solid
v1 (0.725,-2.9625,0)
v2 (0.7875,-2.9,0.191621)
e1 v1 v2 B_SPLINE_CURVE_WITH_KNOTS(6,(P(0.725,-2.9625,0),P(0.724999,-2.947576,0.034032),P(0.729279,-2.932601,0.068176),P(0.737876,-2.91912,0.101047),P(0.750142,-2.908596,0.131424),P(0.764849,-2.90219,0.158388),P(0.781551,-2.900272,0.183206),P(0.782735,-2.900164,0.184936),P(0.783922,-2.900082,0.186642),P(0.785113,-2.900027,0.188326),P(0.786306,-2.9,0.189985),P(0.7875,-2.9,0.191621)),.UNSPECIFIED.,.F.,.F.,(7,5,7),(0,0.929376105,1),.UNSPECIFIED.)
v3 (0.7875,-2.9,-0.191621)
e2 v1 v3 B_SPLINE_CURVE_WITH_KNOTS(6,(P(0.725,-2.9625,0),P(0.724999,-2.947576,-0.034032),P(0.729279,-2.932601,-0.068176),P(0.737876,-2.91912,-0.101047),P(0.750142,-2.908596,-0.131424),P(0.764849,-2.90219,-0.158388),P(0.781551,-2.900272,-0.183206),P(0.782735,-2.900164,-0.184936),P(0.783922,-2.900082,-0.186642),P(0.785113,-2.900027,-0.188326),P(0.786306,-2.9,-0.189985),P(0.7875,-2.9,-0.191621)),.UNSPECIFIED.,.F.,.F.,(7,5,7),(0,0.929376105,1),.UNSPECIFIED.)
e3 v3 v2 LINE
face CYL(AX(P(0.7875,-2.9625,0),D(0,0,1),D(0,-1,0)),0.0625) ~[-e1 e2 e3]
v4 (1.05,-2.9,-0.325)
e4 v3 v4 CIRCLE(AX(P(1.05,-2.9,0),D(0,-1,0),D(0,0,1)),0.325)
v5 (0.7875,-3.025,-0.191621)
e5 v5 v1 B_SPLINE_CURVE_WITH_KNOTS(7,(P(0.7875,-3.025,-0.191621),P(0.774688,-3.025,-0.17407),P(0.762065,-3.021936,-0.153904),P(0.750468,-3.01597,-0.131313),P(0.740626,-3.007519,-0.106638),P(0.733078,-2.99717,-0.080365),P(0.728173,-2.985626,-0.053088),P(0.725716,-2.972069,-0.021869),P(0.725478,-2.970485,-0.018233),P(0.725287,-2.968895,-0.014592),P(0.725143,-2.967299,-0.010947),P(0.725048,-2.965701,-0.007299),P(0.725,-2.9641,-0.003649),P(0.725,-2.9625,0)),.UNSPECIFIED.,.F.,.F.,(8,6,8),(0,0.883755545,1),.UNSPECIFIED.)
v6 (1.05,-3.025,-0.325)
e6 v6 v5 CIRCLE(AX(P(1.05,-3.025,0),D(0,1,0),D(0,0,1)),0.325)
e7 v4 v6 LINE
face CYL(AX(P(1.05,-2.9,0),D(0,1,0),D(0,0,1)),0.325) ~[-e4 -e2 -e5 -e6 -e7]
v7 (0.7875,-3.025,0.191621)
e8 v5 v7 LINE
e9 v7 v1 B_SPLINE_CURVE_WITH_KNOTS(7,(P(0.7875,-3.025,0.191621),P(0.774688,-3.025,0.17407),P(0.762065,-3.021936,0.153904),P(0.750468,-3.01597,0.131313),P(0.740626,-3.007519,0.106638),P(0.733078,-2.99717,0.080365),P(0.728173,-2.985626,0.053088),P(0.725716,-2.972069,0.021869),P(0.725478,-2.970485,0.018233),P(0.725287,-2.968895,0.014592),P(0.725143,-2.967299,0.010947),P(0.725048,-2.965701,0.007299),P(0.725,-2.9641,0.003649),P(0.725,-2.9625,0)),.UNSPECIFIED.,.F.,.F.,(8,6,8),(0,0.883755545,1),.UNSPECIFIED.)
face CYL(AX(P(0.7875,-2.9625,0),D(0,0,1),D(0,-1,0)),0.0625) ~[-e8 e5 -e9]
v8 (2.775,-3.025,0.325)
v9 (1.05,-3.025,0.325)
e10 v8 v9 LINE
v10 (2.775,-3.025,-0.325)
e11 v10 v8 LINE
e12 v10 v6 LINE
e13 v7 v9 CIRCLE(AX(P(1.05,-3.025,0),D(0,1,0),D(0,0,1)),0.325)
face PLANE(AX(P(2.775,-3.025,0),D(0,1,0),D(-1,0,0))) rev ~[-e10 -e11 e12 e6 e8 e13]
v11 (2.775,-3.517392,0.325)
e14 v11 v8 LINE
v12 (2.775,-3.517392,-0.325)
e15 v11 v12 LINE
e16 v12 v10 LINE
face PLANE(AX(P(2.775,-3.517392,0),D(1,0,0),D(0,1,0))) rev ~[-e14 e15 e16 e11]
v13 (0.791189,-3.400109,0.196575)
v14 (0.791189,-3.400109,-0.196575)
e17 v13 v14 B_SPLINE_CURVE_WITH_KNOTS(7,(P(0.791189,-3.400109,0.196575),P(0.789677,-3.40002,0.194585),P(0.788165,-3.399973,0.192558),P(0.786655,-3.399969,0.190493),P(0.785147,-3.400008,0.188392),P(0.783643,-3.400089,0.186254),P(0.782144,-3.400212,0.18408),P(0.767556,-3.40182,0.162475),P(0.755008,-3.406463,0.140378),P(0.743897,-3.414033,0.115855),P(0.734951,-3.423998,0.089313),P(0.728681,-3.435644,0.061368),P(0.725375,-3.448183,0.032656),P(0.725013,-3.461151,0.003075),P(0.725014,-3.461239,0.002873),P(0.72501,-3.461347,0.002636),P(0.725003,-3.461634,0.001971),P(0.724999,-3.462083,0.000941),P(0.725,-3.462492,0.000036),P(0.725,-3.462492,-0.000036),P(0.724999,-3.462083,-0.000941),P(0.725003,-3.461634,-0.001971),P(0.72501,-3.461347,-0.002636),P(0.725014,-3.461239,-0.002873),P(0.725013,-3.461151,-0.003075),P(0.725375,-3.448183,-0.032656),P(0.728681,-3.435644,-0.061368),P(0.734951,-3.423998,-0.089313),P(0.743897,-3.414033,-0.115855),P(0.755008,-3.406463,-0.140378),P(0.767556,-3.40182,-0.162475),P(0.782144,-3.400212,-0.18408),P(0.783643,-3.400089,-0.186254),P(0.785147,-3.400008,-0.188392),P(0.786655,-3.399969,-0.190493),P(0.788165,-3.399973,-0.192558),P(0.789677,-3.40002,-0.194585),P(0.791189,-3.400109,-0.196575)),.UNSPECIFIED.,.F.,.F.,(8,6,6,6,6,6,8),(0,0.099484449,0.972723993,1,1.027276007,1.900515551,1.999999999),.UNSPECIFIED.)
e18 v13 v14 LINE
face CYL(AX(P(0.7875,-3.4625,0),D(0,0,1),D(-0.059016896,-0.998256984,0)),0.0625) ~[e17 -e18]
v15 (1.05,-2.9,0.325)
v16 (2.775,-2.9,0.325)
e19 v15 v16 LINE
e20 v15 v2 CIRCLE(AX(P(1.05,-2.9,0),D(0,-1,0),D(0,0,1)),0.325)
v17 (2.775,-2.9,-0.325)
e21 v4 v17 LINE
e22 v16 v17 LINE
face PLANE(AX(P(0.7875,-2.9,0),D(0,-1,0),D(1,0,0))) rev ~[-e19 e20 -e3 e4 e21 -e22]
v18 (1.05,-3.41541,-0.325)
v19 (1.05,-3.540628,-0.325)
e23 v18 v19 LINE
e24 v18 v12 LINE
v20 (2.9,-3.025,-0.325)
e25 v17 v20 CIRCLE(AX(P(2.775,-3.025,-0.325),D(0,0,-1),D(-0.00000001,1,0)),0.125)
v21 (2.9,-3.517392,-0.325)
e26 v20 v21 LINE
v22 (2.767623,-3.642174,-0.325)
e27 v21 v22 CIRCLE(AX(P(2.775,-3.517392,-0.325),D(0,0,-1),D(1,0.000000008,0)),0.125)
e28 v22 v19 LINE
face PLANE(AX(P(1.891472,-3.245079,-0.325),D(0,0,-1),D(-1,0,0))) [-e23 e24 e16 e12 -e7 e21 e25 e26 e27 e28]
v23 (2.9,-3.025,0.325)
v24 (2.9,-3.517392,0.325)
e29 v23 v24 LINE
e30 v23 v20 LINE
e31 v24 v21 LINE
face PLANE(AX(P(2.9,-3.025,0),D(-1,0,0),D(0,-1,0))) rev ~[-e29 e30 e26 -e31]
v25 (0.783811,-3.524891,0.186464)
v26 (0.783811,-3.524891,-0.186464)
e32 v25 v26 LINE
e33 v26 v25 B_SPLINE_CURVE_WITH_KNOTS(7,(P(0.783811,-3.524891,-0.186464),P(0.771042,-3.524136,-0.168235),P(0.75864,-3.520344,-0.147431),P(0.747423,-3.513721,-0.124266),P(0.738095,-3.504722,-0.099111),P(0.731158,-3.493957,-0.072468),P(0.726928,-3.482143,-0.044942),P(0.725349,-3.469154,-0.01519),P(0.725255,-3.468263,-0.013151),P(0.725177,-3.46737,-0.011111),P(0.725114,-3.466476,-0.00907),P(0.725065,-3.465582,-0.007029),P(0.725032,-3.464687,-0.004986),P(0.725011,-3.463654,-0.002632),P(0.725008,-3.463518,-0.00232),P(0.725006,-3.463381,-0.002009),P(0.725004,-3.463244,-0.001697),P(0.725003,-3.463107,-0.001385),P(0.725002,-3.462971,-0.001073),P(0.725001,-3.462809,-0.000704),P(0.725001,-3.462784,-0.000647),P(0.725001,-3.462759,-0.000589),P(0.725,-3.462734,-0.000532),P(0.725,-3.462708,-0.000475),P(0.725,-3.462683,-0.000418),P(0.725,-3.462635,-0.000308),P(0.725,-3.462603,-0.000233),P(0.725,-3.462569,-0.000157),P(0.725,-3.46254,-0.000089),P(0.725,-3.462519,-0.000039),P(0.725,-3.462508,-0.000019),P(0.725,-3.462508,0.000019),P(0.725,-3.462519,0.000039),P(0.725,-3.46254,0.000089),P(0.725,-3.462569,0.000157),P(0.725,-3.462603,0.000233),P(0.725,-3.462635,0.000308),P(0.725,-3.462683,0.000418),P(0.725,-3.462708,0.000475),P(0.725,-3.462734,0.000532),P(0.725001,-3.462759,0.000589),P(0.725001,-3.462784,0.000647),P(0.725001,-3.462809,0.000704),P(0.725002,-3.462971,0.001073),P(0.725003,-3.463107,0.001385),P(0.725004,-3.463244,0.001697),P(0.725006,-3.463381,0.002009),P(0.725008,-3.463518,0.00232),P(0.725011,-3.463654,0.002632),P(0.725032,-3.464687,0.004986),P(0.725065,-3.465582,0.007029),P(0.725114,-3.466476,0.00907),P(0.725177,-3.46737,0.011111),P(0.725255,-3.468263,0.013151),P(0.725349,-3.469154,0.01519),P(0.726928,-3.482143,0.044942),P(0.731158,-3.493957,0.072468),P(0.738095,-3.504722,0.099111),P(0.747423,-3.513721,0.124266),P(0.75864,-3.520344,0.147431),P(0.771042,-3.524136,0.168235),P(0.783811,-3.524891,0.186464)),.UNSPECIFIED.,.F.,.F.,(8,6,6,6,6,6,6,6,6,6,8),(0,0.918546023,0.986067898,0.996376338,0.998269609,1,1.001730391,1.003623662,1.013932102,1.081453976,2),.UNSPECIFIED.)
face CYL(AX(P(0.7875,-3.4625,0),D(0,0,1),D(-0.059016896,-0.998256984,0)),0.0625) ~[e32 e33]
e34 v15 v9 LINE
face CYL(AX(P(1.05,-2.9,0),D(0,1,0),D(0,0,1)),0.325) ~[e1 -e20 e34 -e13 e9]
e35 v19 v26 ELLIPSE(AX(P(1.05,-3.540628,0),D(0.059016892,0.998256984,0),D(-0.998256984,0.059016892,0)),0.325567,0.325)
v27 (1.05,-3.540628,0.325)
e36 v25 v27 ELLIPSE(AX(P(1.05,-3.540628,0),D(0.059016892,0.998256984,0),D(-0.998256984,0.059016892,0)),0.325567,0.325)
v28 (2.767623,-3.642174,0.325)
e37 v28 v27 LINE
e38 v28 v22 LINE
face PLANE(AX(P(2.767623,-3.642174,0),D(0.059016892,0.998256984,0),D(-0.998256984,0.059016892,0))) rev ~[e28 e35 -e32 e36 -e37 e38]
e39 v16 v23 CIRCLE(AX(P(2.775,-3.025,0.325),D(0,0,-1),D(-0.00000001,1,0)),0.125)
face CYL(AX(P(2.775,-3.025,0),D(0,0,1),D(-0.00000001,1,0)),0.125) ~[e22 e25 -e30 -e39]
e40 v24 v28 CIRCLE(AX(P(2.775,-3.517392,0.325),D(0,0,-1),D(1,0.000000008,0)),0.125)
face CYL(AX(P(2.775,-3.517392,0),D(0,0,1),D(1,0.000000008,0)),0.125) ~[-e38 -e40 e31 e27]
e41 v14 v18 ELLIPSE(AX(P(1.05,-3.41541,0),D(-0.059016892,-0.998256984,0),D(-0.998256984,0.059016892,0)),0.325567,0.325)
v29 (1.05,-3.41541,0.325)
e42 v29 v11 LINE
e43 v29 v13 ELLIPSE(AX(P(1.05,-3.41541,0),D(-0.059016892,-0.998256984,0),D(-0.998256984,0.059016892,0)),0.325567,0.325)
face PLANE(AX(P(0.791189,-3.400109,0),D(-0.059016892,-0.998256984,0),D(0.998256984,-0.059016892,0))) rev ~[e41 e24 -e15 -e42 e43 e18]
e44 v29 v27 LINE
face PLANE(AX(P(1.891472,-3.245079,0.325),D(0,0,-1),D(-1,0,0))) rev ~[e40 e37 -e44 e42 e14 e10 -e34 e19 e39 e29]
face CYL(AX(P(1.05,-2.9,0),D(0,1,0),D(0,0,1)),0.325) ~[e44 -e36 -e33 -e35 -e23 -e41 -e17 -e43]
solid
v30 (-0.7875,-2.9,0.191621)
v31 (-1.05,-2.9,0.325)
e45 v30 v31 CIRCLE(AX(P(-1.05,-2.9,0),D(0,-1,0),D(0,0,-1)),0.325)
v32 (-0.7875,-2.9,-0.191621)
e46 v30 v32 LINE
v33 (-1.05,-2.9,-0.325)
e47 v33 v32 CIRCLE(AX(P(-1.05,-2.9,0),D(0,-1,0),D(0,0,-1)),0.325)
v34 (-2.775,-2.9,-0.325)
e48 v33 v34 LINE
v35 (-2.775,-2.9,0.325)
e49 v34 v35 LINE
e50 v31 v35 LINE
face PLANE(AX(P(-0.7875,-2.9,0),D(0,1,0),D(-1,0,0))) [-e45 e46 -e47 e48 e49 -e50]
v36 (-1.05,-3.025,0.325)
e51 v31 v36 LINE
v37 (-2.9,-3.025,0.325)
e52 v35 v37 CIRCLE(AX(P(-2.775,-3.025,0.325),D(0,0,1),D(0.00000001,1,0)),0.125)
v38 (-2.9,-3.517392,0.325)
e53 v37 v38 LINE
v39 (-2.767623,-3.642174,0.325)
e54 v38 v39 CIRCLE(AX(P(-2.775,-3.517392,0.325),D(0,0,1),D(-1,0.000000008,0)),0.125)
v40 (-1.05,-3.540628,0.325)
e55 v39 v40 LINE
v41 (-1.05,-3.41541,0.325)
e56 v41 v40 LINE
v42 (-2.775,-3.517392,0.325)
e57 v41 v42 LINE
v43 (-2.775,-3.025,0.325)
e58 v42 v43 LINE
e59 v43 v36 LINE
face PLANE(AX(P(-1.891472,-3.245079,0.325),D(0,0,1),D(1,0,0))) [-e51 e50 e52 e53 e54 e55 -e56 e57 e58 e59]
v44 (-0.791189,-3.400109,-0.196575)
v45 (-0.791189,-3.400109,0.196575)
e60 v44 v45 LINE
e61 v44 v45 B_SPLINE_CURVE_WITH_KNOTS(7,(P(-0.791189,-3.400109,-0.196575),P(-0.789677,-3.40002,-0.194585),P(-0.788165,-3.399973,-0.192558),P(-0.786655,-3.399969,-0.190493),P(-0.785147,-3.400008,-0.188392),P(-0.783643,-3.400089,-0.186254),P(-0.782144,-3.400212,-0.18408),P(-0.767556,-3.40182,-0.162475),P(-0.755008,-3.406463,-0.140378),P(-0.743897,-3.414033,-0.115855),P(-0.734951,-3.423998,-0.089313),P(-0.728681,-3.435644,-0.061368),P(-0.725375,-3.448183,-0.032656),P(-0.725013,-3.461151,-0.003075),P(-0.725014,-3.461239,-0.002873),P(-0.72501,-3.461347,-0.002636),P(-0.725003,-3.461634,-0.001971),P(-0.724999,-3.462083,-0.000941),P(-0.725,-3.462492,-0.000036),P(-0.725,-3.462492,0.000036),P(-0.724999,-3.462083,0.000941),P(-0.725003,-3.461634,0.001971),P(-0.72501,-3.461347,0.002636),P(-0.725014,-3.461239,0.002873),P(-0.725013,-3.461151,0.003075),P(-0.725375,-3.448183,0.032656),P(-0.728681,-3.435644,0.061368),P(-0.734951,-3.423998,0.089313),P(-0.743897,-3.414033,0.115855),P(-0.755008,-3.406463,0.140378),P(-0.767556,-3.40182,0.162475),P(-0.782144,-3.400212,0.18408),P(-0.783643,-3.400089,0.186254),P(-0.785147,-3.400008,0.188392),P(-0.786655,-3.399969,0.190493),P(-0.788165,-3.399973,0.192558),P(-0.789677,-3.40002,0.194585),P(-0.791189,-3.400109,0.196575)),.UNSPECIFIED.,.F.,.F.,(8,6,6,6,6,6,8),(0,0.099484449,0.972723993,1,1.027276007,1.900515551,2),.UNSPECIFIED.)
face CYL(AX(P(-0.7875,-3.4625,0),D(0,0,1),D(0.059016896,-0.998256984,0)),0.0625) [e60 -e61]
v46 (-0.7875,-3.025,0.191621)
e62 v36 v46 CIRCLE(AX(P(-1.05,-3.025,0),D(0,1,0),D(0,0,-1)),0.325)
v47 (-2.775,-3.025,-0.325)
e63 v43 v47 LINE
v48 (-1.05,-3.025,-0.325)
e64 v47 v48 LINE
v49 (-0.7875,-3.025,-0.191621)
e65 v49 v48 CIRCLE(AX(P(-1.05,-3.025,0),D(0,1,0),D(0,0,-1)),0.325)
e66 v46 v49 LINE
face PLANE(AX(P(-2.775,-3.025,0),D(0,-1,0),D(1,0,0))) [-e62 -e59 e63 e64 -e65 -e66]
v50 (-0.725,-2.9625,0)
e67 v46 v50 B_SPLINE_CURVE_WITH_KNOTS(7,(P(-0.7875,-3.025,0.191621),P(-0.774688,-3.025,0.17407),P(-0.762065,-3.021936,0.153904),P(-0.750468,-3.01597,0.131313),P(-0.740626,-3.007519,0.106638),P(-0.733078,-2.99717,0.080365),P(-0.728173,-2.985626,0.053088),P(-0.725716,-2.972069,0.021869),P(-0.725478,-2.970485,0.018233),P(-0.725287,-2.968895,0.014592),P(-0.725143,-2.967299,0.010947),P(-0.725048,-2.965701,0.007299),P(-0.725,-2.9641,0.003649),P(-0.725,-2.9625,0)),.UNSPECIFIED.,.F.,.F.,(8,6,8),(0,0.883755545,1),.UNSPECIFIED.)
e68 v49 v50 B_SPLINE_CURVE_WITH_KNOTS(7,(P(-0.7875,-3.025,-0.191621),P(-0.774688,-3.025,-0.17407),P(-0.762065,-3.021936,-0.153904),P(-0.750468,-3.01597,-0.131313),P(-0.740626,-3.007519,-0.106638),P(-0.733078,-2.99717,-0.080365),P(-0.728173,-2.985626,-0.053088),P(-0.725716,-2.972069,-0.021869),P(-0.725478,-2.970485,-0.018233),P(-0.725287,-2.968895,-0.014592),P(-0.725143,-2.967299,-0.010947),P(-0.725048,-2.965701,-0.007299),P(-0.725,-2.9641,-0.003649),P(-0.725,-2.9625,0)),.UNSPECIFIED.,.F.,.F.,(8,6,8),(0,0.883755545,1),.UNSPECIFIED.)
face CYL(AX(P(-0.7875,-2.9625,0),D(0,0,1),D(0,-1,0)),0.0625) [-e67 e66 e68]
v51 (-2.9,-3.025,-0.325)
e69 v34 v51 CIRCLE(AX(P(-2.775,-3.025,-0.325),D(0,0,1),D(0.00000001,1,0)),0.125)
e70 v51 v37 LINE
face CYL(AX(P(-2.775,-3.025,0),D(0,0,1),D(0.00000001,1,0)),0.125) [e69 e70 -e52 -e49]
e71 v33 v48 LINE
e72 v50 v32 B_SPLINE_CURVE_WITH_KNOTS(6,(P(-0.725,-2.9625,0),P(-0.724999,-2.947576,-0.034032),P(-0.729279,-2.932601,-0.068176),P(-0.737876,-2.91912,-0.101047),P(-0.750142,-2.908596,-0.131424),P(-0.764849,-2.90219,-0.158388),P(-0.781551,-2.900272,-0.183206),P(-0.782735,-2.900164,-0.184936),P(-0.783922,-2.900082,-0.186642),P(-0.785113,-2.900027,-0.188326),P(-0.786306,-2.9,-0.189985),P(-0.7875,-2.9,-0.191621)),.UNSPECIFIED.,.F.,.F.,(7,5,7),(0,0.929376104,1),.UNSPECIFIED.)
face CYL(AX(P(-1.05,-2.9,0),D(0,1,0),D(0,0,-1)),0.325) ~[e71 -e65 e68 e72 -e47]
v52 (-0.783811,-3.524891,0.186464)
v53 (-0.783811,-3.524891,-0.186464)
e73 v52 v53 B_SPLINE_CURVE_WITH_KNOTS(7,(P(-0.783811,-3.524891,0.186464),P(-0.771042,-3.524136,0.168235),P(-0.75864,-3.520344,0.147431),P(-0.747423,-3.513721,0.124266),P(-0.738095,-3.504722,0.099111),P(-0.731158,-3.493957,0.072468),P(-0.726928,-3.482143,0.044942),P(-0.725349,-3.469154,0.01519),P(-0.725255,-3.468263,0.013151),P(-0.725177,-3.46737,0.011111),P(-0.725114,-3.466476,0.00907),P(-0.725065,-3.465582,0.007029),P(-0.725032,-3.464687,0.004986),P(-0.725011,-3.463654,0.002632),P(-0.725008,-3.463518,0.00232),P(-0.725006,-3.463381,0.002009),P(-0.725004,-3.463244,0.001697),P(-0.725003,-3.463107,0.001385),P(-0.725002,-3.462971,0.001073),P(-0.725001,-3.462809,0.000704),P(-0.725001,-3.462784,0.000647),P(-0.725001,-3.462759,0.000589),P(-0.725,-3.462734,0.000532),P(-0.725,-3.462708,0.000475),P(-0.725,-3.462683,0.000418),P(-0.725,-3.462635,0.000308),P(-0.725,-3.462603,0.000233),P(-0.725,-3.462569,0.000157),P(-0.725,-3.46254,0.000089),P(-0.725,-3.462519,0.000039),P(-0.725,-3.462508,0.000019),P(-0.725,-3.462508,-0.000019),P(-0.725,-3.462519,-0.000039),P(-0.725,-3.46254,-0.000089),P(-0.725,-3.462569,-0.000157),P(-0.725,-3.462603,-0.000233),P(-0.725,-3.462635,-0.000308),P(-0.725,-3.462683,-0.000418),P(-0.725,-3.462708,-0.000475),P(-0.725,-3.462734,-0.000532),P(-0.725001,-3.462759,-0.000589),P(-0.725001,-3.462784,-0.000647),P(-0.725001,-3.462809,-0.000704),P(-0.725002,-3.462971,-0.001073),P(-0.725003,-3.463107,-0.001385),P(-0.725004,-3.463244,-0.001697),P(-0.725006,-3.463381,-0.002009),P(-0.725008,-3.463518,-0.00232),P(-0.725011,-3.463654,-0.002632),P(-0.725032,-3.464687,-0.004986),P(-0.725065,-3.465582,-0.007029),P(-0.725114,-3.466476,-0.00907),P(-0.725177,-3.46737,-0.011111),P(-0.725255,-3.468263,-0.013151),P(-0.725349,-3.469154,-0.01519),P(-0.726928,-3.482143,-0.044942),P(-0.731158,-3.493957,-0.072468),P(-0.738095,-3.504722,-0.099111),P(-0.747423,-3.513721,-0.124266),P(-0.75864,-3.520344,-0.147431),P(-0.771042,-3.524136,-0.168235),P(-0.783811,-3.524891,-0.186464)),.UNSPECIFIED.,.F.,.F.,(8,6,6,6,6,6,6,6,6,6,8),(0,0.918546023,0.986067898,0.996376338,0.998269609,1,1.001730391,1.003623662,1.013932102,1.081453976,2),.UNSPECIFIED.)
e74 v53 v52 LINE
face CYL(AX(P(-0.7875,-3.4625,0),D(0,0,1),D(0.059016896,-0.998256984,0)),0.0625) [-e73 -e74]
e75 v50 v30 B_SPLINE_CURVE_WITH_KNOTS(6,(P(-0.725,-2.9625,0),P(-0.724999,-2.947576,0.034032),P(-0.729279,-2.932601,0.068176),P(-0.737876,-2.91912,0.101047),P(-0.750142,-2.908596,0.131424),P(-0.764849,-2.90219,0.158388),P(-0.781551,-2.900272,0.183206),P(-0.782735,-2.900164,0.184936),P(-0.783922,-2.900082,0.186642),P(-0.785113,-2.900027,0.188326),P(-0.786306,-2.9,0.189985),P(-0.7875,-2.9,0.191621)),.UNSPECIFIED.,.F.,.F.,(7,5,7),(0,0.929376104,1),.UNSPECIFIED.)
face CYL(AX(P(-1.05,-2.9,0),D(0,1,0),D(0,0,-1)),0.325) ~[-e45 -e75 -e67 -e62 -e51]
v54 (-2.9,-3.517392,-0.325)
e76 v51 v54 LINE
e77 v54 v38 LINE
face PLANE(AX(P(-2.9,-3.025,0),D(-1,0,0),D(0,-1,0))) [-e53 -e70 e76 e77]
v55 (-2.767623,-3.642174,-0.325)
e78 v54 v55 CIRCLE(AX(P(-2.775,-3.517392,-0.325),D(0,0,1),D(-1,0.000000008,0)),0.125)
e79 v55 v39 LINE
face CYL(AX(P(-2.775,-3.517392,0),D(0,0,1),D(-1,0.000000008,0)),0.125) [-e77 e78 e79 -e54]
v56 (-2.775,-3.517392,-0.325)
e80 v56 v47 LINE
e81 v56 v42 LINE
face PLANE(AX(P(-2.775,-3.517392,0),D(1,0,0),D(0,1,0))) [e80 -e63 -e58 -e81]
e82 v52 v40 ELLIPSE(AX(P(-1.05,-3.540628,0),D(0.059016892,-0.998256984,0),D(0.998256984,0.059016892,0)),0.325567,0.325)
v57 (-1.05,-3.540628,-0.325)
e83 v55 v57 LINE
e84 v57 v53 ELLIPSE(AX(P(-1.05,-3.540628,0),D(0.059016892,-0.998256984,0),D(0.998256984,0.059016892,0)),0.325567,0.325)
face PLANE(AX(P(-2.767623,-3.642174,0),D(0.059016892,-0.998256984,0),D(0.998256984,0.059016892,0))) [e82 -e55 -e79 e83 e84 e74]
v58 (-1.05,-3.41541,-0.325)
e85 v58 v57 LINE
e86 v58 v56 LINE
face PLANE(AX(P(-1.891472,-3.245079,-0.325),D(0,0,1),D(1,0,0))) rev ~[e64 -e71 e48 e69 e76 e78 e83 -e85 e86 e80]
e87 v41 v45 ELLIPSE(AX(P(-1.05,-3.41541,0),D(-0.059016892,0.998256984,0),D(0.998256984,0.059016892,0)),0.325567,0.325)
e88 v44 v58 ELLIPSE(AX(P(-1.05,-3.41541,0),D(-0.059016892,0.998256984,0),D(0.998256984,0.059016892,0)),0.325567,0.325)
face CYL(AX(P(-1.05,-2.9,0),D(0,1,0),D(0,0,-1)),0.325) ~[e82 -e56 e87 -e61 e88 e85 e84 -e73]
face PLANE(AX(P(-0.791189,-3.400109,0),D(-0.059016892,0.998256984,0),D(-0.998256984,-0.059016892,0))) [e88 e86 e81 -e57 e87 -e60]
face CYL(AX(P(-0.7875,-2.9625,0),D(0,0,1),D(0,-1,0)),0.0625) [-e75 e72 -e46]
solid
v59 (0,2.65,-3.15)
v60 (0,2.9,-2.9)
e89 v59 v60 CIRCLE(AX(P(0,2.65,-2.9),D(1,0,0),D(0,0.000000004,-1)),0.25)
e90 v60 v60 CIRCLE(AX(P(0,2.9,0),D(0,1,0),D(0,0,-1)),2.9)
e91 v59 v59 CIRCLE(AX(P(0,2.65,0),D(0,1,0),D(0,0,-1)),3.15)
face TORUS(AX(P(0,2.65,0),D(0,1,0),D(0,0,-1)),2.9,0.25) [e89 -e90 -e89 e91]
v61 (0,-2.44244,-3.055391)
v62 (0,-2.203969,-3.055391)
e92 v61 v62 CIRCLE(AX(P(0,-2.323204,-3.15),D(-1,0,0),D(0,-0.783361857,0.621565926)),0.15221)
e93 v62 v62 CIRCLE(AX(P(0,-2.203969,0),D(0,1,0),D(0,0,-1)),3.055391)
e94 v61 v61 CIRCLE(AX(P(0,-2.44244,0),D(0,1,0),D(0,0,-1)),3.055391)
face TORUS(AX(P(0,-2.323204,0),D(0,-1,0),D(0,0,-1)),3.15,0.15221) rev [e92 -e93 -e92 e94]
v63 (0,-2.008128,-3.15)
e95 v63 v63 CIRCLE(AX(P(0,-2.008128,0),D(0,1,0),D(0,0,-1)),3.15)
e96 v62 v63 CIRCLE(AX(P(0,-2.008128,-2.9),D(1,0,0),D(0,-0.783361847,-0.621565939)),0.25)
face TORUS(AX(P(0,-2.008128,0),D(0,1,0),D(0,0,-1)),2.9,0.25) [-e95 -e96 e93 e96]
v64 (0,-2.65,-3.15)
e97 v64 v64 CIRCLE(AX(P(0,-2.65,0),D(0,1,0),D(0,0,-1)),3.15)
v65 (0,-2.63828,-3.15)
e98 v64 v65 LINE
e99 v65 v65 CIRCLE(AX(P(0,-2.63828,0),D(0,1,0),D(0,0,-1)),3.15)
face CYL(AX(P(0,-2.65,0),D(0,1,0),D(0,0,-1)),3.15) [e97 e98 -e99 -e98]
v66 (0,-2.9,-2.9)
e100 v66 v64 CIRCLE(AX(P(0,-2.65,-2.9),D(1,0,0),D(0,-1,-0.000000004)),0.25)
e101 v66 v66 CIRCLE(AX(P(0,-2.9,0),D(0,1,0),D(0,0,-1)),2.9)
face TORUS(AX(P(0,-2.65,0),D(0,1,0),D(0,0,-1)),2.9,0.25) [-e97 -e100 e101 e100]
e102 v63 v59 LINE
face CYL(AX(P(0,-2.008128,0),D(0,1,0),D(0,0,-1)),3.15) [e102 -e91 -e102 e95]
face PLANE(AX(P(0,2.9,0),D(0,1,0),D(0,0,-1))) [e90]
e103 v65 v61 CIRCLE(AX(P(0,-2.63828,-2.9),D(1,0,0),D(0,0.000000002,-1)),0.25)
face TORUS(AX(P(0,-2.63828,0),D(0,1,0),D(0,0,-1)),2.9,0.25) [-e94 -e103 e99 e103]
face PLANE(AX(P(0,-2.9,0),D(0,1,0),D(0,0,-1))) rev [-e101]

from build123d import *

# Parameters (mm, degrees)
TAB_DEPTH          = 0.325
TAB_2_DEPTH        = 0.325
CUT_EXTRUDE1_DEPTH = 8.313344055


with BuildPart() as part:
    # Sketch1 → Cap Body (revolve)
    with BuildSketch(Plane(origin=(0, 0, 0), x_dir=(0, 0, -1), z_dir=(1, 0, 0))):
        with BuildLine():
            Line((0, 2.9), (0, -2.9))
            Line((0, -2.9), (2.9, -2.9))
            ThreePointArc((2.9, -2.9), (3.076776695, -2.826776695), (3.15, -2.65))
            Line((3.15, -2.65), (3.15, -2.638280347))
            ThreePointArc((3.15, -2.638280347), (3.125108719, -2.529532636), (3.055391484, -2.442439884))
            ThreePointArc((3.055391484, -2.442439884), (2.997790055, -2.32320442), (3.055391484, -2.203968956))
            ThreePointArc((3.055391484, -2.203968956), (3.125108719, -2.116876204), (3.15, -2.008128493))
            Line((3.15, -2.008128493), (3.15, 2.65))
            ThreePointArc((3.15, 2.65), (3.076776695, 2.826776695), (2.9, 2.9))
            Line((2.9, 2.9), (0, 2.9))
        make_face()
    revolve(axis=Axis((0, -4.584100675, 0), (0, 1, 0)))


with BuildPart() as body_2:
    # Tab Sketch → Tab (new, symmetric)
    with BuildSketch(Plane.XY):
        with BuildLine():
            Line((-0.7875, -2.9), (-2.775, -2.9))
            ThreePointArc((-2.775, -2.9), (-2.863388348, -2.936611652), (-2.9, -3.025))
            Line((-2.9, -3.025), (-2.9, -3.51739175))
            ThreePointArc((-2.9, -3.51739175), (-2.860740484, -3.608350914), (-2.767622888, -3.642173873))
            Line((-2.767622888, -3.642173873), (-0.783811444, -3.524891062))
            ThreePointArc((-0.783811444, -3.524891062), (-0.725108938, -3.458811444), (-0.791188556, -3.400108938))
            Line((-0.791188556, -3.400108938), (-2.775, -3.51739175))
            Line((-2.775, -3.51739175), (-2.775, -3.025))
            Line((-2.775, -3.025), (-0.7875, -3.025))
            ThreePointArc((-0.7875, -3.025), (-0.725, -2.9625), (-0.7875, -2.9))
        make_face()
    extrude(amount=TAB_DEPTH, both=True)


with BuildPart() as body_3:
    # Tab Sketch → Tab 2 (new, symmetric)
    with BuildSketch(Plane.XY):
        with BuildLine():
            Line((0.7875, -2.9), (2.775, -2.9))
            ThreePointArc((2.775, -2.9), (2.863388348, -2.936611652), (2.9, -3.025))
            Line((2.9, -3.025), (2.9, -3.51739175))
            ThreePointArc((2.9, -3.51739175), (2.860740484, -3.608350914), (2.767622888, -3.642173873))
            Line((2.767622888, -3.642173873), (0.783811444, -3.524891062))
            ThreePointArc((0.783811444, -3.524891062), (0.725108938, -3.458811444), (0.791188556, -3.400108938))
            Line((0.791188556, -3.400108938), (2.775, -3.51739175))
            Line((2.775, -3.51739175), (2.775, -3.025))
            Line((2.775, -3.025), (0.7875, -3.025))
            ThreePointArc((0.7875, -3.025), (0.725, -2.9625), (0.7875, -2.9))
        make_face()
    extrude(amount=TAB_2_DEPTH, both=True)


with BuildPart() as cut_extrude1_tool:
    # Sketch4 → Cut-Extrude1 (new, through all)
    with BuildSketch(Plane.XZ.offset(2.9)):
        with BuildLine():
            Line((-1.05, 0.325), (-0.725, 0.325))
            Line((-0.725, 0.325), (0.725, 0.325))
            Line((0.725, 0.325), (1.05, 0.325))
            ThreePointArc((1.05, 0.325), (0.725, 0), (1.05, -0.325))
            Line((1.05, -0.325), (0.725, -0.325))
            Line((0.725, -0.325), (-0.725, -0.325))
            Line((-0.725, -0.325), (-1.05, -0.325))
            ThreePointArc((-1.05, -0.325), (-0.725, 0), (-1.05, 0.325))
        make_face()
    extrude(amount=CUT_EXTRUDE1_DEPTH)


with BuildPart() as body_2_1:
    add(body_2.part)

    # Cut-Extrude1: cut by cut_extrude1_tool
    add(cut_extrude1_tool.part, mode=Mode.SUBTRACT)


with BuildPart() as body_3_1:
    add(body_3.part)

    # Cut-Extrude1: cut by cut_extrude1_tool
    add(cut_extrude1_tool.part, mode=Mode.SUBTRACT)


solid = Compound([part.part, body_2_1.part, body_3_1.part])
